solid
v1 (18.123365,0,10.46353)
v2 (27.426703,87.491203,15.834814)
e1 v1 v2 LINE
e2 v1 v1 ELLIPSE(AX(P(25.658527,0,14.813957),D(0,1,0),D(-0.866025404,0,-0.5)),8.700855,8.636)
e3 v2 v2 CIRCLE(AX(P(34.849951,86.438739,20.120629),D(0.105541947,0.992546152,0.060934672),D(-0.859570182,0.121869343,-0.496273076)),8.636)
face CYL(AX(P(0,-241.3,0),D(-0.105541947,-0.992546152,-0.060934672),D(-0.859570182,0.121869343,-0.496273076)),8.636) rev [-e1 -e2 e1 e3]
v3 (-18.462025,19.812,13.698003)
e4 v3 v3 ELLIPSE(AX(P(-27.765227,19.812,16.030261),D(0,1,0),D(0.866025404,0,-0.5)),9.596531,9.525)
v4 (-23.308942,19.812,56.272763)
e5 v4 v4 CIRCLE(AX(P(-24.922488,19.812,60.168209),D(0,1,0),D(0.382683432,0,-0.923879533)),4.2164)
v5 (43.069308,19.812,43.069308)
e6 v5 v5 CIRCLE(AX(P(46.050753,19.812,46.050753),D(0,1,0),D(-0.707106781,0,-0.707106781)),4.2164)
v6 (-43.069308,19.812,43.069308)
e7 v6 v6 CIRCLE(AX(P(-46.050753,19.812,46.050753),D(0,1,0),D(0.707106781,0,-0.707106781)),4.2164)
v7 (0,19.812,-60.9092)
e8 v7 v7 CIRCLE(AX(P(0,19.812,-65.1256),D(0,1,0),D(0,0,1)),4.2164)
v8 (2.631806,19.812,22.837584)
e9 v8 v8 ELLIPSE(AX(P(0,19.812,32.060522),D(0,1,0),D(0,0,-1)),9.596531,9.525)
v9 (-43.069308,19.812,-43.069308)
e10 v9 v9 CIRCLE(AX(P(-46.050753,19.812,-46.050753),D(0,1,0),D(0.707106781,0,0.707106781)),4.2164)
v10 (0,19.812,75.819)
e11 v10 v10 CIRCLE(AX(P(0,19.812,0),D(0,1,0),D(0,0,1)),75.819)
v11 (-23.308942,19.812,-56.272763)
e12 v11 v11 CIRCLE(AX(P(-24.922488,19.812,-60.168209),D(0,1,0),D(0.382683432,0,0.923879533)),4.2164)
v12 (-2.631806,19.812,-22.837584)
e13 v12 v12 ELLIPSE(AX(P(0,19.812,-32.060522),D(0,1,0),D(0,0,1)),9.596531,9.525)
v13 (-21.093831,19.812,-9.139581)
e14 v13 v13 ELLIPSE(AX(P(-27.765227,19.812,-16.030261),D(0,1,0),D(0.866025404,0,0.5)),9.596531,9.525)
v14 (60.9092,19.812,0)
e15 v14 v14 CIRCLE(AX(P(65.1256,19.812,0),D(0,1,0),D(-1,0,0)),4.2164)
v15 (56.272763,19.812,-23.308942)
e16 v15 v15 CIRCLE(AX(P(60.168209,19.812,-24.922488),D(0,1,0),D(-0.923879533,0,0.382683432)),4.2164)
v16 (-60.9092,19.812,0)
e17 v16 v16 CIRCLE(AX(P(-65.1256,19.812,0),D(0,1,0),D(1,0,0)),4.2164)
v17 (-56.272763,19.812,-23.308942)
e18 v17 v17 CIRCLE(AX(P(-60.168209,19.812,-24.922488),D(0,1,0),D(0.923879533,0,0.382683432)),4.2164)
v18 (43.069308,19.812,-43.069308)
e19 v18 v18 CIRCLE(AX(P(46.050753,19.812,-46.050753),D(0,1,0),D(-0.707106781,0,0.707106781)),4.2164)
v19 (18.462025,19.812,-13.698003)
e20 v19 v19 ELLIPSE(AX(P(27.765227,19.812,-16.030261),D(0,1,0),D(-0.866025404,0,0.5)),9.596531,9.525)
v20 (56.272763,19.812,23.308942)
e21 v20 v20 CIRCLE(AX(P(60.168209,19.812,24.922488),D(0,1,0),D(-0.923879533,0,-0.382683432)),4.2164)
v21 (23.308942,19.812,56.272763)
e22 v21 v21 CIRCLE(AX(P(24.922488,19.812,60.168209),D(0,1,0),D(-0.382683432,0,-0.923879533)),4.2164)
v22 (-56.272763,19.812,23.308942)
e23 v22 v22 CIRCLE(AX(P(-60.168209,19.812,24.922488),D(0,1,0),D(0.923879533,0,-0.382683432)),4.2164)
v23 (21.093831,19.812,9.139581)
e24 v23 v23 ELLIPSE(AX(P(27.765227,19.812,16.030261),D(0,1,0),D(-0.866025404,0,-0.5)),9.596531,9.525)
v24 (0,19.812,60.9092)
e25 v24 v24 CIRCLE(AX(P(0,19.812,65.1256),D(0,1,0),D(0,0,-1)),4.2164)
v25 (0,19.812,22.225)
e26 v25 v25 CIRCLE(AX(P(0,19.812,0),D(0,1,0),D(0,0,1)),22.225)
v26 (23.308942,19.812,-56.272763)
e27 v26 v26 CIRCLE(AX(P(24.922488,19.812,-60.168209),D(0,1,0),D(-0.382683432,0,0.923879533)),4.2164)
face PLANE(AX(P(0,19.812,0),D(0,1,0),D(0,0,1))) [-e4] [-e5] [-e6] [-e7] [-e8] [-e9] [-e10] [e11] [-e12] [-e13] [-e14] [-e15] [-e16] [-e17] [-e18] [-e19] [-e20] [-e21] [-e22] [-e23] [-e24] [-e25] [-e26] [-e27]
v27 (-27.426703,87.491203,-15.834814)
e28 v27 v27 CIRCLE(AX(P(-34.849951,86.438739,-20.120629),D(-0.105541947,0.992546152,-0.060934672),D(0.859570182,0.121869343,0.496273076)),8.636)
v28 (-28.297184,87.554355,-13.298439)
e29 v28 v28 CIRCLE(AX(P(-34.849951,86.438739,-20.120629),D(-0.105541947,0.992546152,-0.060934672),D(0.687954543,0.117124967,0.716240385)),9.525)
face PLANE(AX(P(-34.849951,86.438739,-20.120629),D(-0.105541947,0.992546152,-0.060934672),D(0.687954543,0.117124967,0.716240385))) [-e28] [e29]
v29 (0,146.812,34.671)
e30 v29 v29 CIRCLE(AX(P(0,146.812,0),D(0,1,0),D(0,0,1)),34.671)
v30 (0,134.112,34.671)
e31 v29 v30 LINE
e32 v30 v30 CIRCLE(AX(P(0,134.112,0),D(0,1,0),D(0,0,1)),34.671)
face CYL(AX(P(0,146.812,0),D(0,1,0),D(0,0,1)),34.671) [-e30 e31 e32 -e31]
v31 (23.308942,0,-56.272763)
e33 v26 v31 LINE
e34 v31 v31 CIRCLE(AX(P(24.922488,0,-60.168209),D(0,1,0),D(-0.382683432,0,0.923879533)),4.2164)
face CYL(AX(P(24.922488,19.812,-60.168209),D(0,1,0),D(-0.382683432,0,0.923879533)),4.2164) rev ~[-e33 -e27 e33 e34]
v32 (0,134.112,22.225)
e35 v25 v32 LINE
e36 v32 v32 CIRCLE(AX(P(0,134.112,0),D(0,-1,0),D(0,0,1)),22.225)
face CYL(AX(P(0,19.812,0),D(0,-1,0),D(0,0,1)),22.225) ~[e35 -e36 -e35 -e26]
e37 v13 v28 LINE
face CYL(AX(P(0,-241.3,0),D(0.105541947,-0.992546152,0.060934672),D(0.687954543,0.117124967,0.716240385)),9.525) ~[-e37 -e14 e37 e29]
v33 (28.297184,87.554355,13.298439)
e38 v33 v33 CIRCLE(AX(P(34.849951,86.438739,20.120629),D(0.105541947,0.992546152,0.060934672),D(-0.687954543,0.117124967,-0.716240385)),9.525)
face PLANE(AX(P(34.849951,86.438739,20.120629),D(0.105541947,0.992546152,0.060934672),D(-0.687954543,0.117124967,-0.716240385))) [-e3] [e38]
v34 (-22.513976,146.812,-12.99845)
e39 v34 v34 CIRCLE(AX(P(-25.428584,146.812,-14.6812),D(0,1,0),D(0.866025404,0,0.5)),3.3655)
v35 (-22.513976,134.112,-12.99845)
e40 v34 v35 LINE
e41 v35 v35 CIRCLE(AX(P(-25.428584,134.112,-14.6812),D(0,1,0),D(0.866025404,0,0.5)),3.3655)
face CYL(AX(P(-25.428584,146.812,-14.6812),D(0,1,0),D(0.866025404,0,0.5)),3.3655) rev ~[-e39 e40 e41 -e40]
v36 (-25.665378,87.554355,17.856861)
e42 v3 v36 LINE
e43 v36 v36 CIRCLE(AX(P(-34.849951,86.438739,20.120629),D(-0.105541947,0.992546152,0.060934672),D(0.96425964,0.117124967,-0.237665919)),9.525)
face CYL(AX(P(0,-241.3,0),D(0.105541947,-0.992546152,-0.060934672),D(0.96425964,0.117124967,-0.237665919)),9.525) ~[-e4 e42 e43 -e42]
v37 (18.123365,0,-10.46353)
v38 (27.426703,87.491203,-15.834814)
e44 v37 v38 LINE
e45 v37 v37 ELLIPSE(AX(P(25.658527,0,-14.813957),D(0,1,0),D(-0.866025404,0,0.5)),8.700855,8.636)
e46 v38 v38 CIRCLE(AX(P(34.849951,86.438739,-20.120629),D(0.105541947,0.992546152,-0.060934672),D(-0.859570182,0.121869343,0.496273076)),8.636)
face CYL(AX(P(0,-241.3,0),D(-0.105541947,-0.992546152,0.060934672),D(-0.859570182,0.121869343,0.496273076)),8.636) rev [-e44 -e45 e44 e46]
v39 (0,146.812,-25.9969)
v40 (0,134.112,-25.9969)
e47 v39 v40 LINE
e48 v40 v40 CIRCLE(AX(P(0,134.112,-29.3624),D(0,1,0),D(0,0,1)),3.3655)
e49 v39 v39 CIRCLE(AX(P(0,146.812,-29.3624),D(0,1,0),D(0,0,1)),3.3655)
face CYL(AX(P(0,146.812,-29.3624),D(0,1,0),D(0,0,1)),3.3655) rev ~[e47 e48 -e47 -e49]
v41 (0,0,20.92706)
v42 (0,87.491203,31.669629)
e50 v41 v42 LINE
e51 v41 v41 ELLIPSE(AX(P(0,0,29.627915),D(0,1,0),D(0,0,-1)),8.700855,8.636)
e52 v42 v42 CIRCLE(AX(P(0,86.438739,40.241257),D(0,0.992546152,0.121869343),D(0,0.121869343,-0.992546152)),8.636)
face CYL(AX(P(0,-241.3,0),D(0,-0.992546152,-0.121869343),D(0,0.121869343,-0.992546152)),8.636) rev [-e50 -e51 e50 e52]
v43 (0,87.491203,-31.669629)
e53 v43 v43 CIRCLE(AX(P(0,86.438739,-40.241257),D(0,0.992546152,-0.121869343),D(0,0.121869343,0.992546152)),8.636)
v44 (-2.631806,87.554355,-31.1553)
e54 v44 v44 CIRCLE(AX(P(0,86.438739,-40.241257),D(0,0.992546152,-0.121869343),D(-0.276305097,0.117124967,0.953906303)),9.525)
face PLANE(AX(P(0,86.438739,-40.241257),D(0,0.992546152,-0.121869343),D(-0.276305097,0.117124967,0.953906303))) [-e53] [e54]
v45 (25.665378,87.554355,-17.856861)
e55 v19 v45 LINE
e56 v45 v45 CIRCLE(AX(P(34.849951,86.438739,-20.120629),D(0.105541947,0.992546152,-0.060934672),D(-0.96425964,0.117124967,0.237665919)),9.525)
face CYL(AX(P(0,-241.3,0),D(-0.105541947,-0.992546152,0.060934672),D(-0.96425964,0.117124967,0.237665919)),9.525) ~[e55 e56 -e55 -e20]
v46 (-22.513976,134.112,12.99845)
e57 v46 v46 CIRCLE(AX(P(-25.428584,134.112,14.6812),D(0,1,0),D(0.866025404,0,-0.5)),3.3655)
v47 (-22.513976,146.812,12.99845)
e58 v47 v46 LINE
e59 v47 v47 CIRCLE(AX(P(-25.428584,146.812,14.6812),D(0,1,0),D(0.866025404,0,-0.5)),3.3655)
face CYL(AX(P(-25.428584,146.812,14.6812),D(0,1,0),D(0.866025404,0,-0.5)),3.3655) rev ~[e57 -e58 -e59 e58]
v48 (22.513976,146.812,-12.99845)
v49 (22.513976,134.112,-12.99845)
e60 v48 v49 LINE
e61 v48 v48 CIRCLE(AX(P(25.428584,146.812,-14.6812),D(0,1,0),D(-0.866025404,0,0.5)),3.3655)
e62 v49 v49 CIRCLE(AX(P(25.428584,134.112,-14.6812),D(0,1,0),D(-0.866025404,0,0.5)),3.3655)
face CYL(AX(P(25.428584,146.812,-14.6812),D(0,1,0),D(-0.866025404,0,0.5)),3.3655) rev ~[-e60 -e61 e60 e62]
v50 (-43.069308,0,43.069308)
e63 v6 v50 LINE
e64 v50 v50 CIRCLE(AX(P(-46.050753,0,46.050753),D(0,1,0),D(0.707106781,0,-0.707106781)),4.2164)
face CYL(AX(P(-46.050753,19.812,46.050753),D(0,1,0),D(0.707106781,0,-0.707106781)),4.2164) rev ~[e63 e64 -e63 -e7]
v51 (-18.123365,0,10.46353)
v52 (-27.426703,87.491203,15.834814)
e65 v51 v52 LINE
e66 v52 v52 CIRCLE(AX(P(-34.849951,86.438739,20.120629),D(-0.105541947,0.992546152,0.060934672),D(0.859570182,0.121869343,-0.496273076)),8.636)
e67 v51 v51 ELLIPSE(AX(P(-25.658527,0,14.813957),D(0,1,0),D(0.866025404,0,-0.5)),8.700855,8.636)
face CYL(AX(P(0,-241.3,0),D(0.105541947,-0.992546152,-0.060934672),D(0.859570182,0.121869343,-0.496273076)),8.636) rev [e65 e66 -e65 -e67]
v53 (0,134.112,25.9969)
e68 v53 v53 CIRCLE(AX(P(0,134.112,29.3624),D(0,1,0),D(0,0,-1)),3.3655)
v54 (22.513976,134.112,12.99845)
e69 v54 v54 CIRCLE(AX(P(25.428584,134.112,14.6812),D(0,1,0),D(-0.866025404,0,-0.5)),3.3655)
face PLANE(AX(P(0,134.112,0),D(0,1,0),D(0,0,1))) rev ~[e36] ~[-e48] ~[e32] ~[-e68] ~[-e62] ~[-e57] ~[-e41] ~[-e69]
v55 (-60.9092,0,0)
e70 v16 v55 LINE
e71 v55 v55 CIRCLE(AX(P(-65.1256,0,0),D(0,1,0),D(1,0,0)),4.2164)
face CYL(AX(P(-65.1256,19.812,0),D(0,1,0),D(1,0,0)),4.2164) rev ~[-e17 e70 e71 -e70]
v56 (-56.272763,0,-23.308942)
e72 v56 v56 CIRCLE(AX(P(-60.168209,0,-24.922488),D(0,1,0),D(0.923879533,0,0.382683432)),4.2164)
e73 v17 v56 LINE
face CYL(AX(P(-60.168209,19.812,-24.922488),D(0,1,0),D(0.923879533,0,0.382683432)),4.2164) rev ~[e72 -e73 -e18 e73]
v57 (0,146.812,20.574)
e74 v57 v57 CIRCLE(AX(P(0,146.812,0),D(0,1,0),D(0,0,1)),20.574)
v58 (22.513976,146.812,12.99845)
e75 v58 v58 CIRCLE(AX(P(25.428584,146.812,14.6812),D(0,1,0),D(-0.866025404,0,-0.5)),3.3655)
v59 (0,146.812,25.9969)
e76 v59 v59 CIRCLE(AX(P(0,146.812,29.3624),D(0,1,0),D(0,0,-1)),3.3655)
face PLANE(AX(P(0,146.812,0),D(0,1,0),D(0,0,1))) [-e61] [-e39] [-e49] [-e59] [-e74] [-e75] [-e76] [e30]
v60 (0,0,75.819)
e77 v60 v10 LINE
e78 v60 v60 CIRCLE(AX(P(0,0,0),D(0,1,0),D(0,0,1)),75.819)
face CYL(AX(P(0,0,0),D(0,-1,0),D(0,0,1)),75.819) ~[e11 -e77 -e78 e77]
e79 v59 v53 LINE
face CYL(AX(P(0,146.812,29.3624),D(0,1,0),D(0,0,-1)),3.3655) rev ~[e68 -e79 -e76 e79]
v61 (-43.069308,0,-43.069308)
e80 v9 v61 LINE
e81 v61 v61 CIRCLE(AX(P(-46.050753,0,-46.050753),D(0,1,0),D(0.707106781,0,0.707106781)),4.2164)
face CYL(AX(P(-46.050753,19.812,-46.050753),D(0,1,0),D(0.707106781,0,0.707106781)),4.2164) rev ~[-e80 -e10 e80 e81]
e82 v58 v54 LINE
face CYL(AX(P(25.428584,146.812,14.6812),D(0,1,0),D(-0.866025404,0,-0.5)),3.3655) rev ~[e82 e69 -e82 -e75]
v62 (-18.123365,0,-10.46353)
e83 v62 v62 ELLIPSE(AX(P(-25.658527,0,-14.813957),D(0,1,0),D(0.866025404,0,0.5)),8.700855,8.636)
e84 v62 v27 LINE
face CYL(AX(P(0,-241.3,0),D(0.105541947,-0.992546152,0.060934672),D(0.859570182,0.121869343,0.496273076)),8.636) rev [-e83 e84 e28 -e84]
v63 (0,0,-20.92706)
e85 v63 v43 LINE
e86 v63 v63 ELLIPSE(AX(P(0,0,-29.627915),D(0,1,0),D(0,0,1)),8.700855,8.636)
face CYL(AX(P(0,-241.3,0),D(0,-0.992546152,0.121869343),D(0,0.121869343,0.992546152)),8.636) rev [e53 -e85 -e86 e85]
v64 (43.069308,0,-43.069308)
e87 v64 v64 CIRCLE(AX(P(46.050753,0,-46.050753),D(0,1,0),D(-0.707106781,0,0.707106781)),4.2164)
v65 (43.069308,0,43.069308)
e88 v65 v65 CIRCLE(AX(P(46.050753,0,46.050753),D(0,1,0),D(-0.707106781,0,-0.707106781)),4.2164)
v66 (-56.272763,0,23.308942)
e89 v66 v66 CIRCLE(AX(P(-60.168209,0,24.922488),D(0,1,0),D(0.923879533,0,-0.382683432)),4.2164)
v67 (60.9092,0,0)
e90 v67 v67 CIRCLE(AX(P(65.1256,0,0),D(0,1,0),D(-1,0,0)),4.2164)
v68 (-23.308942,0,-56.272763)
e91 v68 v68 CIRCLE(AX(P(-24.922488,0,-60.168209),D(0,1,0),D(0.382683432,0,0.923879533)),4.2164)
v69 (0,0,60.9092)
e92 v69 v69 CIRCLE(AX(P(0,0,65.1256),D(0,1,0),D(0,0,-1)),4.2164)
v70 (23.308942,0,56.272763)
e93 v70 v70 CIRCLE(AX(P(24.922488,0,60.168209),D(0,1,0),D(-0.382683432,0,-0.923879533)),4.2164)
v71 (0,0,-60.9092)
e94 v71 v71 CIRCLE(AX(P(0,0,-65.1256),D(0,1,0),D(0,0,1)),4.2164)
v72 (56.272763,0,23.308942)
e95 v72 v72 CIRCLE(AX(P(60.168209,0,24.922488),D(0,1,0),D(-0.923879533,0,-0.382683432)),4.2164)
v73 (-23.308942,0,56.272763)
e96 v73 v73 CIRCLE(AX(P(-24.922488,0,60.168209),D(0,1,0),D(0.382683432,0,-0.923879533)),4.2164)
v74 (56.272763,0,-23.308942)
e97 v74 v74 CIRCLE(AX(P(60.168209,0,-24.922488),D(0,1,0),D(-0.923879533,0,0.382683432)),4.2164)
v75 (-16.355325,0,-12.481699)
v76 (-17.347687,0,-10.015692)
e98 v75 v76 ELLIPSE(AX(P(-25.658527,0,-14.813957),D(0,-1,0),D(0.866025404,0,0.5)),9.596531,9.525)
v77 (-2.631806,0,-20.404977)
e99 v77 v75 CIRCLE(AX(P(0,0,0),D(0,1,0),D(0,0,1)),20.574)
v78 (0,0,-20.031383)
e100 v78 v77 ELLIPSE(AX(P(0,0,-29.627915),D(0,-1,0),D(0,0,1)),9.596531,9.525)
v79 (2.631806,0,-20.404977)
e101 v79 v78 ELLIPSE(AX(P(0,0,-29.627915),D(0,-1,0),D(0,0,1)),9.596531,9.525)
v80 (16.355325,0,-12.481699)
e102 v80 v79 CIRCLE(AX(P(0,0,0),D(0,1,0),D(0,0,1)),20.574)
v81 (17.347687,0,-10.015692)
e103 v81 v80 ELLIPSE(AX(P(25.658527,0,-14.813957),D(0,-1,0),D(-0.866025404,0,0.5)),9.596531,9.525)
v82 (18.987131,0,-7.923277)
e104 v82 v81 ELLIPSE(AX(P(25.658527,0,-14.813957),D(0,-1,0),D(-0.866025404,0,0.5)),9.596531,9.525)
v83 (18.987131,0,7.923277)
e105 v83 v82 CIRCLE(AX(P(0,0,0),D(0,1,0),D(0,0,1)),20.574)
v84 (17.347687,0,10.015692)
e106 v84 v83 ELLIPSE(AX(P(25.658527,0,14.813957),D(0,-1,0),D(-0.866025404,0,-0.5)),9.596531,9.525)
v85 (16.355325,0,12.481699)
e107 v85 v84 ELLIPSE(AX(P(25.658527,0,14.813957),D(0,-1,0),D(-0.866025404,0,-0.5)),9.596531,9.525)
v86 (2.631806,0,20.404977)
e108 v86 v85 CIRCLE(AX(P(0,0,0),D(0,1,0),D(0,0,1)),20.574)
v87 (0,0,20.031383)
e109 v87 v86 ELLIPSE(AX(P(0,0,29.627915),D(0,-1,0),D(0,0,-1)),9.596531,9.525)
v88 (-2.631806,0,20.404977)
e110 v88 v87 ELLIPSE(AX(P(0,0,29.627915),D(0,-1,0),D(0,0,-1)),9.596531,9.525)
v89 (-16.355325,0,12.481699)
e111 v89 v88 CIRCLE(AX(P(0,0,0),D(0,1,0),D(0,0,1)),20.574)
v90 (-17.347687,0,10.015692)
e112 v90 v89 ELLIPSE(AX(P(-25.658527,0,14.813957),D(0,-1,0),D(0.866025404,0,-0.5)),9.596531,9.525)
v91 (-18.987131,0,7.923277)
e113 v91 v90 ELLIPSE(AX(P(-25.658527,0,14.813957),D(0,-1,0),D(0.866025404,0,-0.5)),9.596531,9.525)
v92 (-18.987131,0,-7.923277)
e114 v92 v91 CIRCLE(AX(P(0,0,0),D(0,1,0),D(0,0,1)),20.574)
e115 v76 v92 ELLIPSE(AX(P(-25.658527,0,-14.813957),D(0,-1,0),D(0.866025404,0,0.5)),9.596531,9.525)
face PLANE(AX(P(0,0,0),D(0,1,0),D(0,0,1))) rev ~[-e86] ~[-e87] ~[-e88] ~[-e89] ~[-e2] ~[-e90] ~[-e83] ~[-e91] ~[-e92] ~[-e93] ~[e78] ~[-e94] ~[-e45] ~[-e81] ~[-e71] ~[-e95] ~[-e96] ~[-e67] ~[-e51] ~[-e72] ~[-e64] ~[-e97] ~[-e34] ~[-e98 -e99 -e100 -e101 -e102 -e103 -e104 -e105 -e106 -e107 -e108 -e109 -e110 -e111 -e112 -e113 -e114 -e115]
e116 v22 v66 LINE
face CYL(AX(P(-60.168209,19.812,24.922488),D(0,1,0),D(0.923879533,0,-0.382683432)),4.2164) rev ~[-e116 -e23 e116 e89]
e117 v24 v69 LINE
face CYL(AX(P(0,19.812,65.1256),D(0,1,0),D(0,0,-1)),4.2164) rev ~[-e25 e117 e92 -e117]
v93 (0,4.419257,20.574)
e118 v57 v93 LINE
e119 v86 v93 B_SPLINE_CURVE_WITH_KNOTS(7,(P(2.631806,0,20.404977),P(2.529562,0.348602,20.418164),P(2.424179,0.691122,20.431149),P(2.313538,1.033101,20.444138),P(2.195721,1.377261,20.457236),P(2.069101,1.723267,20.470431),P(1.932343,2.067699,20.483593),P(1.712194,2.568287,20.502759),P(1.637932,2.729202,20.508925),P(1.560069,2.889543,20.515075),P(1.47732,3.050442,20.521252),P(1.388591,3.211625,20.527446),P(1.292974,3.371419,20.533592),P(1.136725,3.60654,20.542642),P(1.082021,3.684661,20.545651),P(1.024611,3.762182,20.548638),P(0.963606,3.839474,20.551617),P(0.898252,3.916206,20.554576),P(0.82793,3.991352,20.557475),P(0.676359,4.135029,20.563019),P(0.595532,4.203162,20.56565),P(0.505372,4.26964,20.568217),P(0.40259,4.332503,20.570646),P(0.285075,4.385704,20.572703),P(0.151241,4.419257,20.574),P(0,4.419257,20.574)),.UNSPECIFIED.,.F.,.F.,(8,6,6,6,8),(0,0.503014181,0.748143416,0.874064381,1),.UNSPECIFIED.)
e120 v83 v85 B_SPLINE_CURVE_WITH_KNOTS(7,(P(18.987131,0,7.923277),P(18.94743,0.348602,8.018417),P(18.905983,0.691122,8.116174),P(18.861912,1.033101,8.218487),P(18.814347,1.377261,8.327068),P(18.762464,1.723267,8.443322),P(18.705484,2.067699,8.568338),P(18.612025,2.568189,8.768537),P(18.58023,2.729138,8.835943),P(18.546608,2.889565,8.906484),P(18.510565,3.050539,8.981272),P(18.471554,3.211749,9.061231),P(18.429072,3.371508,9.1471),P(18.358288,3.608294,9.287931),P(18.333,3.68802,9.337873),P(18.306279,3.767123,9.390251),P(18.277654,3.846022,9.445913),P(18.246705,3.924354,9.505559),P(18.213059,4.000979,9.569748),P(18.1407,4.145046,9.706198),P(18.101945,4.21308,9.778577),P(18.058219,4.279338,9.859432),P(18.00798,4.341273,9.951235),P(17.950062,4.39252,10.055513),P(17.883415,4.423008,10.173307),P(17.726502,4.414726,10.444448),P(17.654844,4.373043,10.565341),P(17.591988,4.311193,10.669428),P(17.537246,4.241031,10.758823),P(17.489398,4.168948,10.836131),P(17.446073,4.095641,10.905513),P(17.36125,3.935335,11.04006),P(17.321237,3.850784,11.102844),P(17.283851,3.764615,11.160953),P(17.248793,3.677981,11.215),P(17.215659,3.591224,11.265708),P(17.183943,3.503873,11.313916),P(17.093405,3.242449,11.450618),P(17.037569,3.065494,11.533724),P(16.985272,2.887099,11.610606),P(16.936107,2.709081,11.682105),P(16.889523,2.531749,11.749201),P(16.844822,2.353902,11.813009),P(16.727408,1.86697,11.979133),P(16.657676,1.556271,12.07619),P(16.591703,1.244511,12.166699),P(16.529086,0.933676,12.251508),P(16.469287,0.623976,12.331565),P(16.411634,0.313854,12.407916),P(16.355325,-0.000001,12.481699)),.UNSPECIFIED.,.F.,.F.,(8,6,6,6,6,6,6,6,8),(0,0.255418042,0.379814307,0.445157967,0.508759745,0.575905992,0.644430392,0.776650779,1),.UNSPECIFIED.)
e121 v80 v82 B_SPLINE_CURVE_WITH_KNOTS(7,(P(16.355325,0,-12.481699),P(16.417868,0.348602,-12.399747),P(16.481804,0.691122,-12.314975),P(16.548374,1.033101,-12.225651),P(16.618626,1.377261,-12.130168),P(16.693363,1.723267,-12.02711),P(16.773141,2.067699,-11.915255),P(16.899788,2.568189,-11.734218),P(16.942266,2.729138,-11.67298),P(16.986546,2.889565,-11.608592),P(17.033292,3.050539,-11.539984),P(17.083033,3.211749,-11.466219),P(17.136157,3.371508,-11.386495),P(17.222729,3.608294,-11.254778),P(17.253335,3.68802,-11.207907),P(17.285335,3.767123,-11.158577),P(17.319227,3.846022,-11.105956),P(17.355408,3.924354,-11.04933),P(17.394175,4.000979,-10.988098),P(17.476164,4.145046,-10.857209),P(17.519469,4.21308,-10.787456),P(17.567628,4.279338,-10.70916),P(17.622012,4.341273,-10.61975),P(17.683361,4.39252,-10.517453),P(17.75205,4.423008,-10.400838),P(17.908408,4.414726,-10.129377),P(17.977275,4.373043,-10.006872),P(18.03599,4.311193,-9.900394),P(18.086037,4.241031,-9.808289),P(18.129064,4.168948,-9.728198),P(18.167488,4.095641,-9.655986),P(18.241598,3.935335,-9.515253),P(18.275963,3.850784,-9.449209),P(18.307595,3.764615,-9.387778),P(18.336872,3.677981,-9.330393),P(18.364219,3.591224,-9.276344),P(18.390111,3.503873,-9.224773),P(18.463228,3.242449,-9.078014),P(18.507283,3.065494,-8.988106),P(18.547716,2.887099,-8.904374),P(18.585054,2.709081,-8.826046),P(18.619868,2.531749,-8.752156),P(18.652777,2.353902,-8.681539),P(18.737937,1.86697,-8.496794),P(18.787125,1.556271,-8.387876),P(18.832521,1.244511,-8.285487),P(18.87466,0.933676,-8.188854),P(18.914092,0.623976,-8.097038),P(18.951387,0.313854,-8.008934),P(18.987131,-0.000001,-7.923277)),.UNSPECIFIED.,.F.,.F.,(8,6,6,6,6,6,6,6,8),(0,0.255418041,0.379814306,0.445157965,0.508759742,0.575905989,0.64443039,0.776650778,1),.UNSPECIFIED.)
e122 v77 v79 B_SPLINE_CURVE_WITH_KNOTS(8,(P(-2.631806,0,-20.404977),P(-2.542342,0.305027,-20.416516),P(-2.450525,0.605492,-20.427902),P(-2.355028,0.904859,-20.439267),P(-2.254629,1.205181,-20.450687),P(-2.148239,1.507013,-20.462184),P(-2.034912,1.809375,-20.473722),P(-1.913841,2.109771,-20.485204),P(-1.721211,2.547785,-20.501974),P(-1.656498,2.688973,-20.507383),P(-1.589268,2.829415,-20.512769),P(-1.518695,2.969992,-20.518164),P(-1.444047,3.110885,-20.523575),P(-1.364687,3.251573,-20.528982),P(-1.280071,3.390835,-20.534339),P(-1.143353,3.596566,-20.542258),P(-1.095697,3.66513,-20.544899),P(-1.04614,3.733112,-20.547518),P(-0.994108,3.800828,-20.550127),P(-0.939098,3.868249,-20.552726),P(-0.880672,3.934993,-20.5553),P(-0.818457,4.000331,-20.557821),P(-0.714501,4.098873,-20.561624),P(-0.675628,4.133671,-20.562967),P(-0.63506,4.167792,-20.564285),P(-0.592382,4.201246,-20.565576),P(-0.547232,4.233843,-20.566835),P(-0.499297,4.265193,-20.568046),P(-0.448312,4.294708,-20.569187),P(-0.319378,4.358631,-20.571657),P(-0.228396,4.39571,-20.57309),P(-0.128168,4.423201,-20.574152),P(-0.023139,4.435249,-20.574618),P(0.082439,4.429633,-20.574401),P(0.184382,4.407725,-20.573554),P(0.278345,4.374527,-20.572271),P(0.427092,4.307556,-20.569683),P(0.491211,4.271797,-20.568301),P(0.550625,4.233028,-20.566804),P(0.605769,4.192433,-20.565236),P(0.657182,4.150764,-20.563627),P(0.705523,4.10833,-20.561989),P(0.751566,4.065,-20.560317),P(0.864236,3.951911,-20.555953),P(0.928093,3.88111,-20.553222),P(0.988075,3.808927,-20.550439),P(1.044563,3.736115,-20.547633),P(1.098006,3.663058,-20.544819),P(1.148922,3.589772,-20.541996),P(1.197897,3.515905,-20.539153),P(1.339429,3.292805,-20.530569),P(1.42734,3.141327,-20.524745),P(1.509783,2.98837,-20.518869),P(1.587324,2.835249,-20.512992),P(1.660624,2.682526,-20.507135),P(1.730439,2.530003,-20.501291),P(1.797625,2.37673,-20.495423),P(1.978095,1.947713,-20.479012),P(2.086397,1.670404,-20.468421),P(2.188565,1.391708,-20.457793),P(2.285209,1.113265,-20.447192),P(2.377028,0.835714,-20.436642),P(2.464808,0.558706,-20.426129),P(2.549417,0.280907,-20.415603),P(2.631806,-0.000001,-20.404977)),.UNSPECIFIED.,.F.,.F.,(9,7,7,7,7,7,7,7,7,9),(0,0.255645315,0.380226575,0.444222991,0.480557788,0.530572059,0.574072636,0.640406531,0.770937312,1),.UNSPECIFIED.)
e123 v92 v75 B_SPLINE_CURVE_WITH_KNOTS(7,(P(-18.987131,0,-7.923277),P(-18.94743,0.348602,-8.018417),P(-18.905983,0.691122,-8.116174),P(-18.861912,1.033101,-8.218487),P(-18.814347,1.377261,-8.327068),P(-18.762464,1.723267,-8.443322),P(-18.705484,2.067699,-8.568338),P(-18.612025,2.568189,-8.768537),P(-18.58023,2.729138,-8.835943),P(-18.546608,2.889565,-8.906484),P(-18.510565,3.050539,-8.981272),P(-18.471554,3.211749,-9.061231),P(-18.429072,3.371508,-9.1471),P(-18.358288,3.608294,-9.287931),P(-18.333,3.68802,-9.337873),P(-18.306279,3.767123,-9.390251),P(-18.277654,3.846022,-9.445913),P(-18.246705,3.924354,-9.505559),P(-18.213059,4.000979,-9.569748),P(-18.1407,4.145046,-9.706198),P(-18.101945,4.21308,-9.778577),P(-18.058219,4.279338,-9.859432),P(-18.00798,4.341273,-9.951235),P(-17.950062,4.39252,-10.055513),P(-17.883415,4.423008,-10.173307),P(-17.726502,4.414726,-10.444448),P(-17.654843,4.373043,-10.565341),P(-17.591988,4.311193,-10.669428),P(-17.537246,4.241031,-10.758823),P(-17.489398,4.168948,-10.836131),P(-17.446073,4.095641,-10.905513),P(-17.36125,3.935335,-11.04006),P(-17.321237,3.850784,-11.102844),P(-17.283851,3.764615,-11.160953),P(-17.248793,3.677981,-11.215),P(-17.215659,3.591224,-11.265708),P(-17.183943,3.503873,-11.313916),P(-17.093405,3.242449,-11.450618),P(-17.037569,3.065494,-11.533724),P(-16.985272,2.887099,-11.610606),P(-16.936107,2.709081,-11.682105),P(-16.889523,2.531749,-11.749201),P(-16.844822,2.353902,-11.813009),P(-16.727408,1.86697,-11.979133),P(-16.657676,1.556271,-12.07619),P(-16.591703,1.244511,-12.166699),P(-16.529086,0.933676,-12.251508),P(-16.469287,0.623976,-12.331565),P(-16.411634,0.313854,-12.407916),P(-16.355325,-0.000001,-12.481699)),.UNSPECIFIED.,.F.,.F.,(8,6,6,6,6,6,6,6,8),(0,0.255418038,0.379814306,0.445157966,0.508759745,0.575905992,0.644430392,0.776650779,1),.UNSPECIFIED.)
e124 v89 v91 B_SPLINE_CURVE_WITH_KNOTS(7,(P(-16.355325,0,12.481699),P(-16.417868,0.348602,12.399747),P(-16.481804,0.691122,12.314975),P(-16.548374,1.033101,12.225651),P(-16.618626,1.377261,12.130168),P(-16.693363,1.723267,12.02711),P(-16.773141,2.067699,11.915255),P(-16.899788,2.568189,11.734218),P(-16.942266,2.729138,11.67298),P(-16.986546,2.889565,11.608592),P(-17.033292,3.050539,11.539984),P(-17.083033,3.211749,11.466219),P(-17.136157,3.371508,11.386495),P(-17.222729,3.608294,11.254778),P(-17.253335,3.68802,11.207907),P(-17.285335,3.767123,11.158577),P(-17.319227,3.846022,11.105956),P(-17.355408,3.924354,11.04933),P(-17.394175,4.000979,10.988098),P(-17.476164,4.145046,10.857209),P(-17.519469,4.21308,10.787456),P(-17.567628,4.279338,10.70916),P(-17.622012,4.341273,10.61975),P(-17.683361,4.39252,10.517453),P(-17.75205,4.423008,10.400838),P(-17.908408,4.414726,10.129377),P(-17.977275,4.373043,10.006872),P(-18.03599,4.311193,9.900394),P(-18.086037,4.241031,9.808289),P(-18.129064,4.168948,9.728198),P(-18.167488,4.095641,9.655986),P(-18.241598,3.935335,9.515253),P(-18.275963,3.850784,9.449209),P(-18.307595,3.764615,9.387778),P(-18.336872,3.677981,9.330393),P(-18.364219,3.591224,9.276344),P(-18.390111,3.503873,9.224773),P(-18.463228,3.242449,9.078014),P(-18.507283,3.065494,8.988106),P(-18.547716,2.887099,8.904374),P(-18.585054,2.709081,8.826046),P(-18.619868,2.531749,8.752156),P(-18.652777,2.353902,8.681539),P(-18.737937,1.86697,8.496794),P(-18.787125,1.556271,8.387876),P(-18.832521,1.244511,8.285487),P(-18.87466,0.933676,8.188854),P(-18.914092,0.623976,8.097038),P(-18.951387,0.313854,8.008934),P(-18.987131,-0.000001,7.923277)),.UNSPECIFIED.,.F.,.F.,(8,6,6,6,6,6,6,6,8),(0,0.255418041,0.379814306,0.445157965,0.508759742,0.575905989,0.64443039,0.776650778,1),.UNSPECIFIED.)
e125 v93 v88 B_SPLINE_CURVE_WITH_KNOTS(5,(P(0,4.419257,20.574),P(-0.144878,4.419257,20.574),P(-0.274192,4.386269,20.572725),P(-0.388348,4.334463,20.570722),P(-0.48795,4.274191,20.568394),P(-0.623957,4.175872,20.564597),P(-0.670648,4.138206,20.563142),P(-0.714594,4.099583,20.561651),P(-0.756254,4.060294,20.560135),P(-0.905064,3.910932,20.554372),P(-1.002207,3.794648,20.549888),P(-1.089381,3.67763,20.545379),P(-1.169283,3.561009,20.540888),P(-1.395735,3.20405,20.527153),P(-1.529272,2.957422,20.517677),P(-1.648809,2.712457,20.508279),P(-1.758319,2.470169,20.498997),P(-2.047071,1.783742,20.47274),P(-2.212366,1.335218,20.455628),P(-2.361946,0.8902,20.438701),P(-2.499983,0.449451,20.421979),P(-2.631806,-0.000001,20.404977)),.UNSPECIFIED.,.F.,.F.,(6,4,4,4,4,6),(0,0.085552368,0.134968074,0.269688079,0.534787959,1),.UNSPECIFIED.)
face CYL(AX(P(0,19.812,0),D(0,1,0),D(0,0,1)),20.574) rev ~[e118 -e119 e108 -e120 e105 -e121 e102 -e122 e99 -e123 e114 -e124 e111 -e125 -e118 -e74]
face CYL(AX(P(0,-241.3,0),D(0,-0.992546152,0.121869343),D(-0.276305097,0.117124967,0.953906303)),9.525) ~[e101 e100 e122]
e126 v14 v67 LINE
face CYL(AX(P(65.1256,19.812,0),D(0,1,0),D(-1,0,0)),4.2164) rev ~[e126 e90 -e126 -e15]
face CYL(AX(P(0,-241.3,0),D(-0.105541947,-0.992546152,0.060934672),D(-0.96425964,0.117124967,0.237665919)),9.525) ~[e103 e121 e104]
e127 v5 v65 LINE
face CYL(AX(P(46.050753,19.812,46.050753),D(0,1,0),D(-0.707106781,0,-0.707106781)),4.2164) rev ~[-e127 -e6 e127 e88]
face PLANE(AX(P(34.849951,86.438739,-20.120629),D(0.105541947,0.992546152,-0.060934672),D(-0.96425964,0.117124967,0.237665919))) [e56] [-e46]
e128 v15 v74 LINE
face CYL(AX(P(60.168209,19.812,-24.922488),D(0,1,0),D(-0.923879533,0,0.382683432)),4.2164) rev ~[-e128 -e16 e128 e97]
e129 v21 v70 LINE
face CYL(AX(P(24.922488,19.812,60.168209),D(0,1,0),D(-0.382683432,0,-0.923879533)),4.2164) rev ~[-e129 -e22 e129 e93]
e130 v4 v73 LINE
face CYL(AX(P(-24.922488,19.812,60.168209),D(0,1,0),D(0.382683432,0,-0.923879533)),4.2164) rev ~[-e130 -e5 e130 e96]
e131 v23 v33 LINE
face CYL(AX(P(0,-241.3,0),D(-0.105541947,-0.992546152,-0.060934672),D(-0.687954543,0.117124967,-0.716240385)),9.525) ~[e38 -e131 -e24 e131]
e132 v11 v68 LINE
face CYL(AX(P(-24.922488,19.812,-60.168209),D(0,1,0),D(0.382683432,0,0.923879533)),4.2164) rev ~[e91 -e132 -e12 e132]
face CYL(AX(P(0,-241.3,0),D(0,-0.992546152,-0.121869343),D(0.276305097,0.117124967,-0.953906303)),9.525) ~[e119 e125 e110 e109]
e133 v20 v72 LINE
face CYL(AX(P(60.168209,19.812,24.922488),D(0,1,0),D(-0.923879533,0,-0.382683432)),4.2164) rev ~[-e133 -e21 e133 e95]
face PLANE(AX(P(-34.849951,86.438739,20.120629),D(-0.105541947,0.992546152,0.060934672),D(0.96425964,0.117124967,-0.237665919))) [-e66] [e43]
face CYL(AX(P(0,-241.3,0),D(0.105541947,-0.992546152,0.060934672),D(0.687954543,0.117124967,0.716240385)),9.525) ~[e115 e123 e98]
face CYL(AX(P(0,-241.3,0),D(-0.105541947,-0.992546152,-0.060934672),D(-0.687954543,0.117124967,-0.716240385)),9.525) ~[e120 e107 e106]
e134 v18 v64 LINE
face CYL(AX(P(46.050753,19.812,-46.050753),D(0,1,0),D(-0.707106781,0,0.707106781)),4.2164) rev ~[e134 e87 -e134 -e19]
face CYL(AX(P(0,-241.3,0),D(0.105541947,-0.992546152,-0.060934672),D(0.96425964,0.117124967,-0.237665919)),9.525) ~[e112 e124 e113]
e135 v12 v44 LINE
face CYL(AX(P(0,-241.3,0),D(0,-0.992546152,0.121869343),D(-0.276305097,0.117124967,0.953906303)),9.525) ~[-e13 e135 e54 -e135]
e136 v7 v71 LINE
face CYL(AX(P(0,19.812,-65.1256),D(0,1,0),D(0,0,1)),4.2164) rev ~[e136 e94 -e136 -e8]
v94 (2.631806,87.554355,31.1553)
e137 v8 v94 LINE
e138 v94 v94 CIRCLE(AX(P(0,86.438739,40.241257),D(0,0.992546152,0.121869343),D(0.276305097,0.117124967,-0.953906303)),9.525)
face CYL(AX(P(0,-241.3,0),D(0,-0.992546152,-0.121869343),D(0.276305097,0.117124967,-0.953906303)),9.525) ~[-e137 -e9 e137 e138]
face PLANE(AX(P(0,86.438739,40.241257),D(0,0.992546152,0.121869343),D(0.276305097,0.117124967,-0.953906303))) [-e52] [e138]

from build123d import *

# Parameters (mm, degrees)
SKETCH1_R         = 75.819
EXTRUDE1_DEPTH    = 19.812
SKETCH2_R         = 4.2164
EXTRUDE2_DEPTH    = 19.812
CIRPATTERN1_COUNT = 16
SKETCH3_R         = 22.225
SKETCH3_R_2       = 20.574
EXTRUDE3_DEPTH    = 127
EXTRUDE4_REACH    = 168.211
SKETCH4_R         = 20.574
SKETCH6_R         = 34.671
SKETCH6_R_2       = 20.574
EXTRUDE5_DEPTH    = 12.7
EXTRUDE6_REACH    = 183.799
SKETCH7_R         = 3.3655
CIRPATTERN2_COUNT = 6
SKETCH10_R        = 9.525
SKETCH10_R_2      = 8.636
EXTRUDE7_DEPTH    = 330.2
EXTRUDE8_REACH    = 404.651
SKETCH10_2_R      = 9.525
SKETCH10_2_R_2    = 8.636
SKETCH11_R        = 8.636
EXTRUDE9_DEPTH    = 403.65117179
CIRPATTERN3_COUNT = 6


with BuildPart() as part:
    # Sketch1 → Extrude1 (new body)
    with BuildSketch(Plane(origin=(0, 0, 0), x_dir=(1, 0, 0), z_dir=(0, 1, 0))):
        with Locations(Location((0, 0, 0), (0, 0, 270))):
            Circle(SKETCH1_R)
    extrude(amount=EXTRUDE1_DEPTH)

    # Sketch2 → Extrude2 (cut)
    with BuildSketch(Plane(origin=(0, 19.812, 0), x_dir=(1, 0, 0), z_dir=(0, 1, 0))):
        with Locations(Location((0, 65.1256, 0), (0, 0, 270))):
            Circle(SKETCH2_R)
    extrude2 = extrude(amount=-EXTRUDE2_DEPTH, mode=Mode.SUBTRACT)

    # CirPattern1: Extrude2 ×16 about axis
    cirpattern1_axis = Axis((0, 0, 0), (0, 1, 0))
    for i in range(1, CIRPATTERN1_COUNT):
        add(extrude2.rotate(cirpattern1_axis, i * 360 / CIRPATTERN1_COUNT), mode=Mode.SUBTRACT)

    # Sketch3 → Extrude3 (add)
    with BuildSketch(Plane(origin=(0, 19.812, 0), x_dir=(1, 0, 0), z_dir=(0, 1, 0))):
        with Locations(Location((0, 0, 0), (0, 0, 270))):
            Circle(SKETCH3_R)
        with Locations(Location((0, 0, 0), (0, 0, 270))):
            Circle(SKETCH3_R_2, mode=Mode.SUBTRACT)
    extrude(amount=EXTRUDE3_DEPTH)

    # Sketch4 → Extrude4 (cut, up to next)
    with BuildSketch(Plane(origin=(0, 19.812, 0), x_dir=(1, 0, 0), z_dir=(0, 1, 0)), mode=Mode.PRIVATE) as extrude4_sk1:
        with Locations(Location((0, 0, 0), (0, 0, 270))):
            Circle(SKETCH4_R)
    extrude4_tool1 = extrude(extrude4_sk1.sketch, amount=-EXTRUDE4_REACH, mode=Mode.PRIVATE) & part.part
    add(extrude4_tool1.solids().sort_by_distance((0, 19.812, 0))[0], mode=Mode.SUBTRACT)

    # Sketch6 → Extrude5 (add)
    with BuildSketch(Plane(origin=(0, 146.812, 0), x_dir=(1, 0, 0), z_dir=(0, 1, 0))):
        with Locations(Location((0, 0, 0), (0, 0, 270))):
            Circle(SKETCH6_R)
        with Locations(Location((0, 0, 0), (0, 0, 270))):
            Circle(SKETCH6_R_2, mode=Mode.SUBTRACT)
    extrude(amount=-EXTRUDE5_DEPTH)

    # Sketch7 → Extrude6 (cut, up to next)
    with BuildSketch(Plane(origin=(0, 146.812, 0), x_dir=(1, 0, 0), z_dir=(0, 1, 0)), mode=Mode.PRIVATE) as extrude6_sk1:
        with Locations(Location((0, 29.3624, 0), (0, 0, 270))):
            Circle(SKETCH7_R)
    extrude6_tool1 = extrude(extrude6_sk1.sketch, amount=-EXTRUDE6_REACH, mode=Mode.PRIVATE) & part.part
    extrude6 = extrude6_tool1.solids().sort_by_distance((0, 146.812, -29.3624))[0]
    add(extrude6, mode=Mode.SUBTRACT)

    # CirPattern2: Extrude6 ×6 about axis
    cirpattern2_axis = Axis((0, 0, 0), (0, 1, 0))
    for i in range(1, CIRPATTERN2_COUNT):
        add(extrude6.rotate(cirpattern2_axis, i * 360 / CIRPATTERN2_COUNT), mode=Mode.SUBTRACT)

    # Sketch10 → Extrude7 (add)
    with BuildSketch(Plane(origin=(0, -241.3, 0), x_dir=(-1, 0, 0), z_dir=(0, 0.992546151641322, 0.12186934340514811))):
        with Locations(Location((0, 0, 0), (0, 0, 253.960195481))):
            Circle(SKETCH10_R)
        with Locations(Location((0, 0, 0), (0, 0, 270))):
            Circle(SKETCH10_R_2, mode=Mode.SUBTRACT)
    extrude7 = extrude(amount=EXTRUDE7_DEPTH)

    # Extrude8: up to this face of the body (flat: up to its plane)
    extrude8_end = Plane(part.part.faces().sort_by_distance((0, 0, -73.674514838))[0])
    # Sketch10<2> → Extrude8 (cut, up to the picked face)
    with BuildSketch(Plane(origin=(0, -241.3, 0), x_dir=(-1, 0, 0), z_dir=(0, 0.992546151641322, 0.12186934340514811)), mode=Mode.PRIVATE) as extrude8_sk1:
        with Locations(Location((0, 0, 0), (0, 0, 270))):
            Circle(SKETCH10_2_R)
        with Locations(Location((0, 0, 0), (0, 0, 270))):
            Circle(SKETCH10_2_R_2, mode=Mode.SUBTRACT)
    extrude8_tool1 = split(extrude(extrude8_sk1.sketch, amount=EXTRUDE8_REACH, mode=Mode.PRIVATE), bisect_by=extrude8_end, keep=Keep.BOTH, mode=Mode.PRIVATE)
    extrude8 = extrude8_tool1.solids().sort_by(Axis((0, -242.427973, 9.186603), (0, 0.992546151641322, 0.12186934340514811)))[0]
    add(extrude8, mode=Mode.SUBTRACT)

    # Sketch11 → Extrude9 (cut, through all)
    with BuildSketch(Plane(origin=(0, -241.3, 0), x_dir=(-1, 0, 0), z_dir=(0, 0.992546151641322, 0.12186934340514811))):
        with Locations(Location((0, 0, 0), (0, 0, 270))):
            Circle(SKETCH11_R)
    extrude9 = extrude(amount=EXTRUDE9_DEPTH, mode=Mode.SUBTRACT)

    # CirPattern3: Extrude7, Extrude8, Extrude9 ×6 about axis
    cirpattern3_axis = Axis((0, 0, 0), (0, 1, 0))
    add([extrude7.rotate(cirpattern3_axis, i * 360 / CIRPATTERN3_COUNT) for i in range(1, CIRPATTERN3_COUNT)])
    add([extrude8.rotate(cirpattern3_axis, i * 360 / CIRPATTERN3_COUNT) for i in range(1, CIRPATTERN3_COUNT)], mode=Mode.SUBTRACT)
    add([extrude9.rotate(cirpattern3_axis, i * 360 / CIRPATTERN3_COUNT) for i in range(1, CIRPATTERN3_COUNT)], mode=Mode.SUBTRACT)


solid = part.part
